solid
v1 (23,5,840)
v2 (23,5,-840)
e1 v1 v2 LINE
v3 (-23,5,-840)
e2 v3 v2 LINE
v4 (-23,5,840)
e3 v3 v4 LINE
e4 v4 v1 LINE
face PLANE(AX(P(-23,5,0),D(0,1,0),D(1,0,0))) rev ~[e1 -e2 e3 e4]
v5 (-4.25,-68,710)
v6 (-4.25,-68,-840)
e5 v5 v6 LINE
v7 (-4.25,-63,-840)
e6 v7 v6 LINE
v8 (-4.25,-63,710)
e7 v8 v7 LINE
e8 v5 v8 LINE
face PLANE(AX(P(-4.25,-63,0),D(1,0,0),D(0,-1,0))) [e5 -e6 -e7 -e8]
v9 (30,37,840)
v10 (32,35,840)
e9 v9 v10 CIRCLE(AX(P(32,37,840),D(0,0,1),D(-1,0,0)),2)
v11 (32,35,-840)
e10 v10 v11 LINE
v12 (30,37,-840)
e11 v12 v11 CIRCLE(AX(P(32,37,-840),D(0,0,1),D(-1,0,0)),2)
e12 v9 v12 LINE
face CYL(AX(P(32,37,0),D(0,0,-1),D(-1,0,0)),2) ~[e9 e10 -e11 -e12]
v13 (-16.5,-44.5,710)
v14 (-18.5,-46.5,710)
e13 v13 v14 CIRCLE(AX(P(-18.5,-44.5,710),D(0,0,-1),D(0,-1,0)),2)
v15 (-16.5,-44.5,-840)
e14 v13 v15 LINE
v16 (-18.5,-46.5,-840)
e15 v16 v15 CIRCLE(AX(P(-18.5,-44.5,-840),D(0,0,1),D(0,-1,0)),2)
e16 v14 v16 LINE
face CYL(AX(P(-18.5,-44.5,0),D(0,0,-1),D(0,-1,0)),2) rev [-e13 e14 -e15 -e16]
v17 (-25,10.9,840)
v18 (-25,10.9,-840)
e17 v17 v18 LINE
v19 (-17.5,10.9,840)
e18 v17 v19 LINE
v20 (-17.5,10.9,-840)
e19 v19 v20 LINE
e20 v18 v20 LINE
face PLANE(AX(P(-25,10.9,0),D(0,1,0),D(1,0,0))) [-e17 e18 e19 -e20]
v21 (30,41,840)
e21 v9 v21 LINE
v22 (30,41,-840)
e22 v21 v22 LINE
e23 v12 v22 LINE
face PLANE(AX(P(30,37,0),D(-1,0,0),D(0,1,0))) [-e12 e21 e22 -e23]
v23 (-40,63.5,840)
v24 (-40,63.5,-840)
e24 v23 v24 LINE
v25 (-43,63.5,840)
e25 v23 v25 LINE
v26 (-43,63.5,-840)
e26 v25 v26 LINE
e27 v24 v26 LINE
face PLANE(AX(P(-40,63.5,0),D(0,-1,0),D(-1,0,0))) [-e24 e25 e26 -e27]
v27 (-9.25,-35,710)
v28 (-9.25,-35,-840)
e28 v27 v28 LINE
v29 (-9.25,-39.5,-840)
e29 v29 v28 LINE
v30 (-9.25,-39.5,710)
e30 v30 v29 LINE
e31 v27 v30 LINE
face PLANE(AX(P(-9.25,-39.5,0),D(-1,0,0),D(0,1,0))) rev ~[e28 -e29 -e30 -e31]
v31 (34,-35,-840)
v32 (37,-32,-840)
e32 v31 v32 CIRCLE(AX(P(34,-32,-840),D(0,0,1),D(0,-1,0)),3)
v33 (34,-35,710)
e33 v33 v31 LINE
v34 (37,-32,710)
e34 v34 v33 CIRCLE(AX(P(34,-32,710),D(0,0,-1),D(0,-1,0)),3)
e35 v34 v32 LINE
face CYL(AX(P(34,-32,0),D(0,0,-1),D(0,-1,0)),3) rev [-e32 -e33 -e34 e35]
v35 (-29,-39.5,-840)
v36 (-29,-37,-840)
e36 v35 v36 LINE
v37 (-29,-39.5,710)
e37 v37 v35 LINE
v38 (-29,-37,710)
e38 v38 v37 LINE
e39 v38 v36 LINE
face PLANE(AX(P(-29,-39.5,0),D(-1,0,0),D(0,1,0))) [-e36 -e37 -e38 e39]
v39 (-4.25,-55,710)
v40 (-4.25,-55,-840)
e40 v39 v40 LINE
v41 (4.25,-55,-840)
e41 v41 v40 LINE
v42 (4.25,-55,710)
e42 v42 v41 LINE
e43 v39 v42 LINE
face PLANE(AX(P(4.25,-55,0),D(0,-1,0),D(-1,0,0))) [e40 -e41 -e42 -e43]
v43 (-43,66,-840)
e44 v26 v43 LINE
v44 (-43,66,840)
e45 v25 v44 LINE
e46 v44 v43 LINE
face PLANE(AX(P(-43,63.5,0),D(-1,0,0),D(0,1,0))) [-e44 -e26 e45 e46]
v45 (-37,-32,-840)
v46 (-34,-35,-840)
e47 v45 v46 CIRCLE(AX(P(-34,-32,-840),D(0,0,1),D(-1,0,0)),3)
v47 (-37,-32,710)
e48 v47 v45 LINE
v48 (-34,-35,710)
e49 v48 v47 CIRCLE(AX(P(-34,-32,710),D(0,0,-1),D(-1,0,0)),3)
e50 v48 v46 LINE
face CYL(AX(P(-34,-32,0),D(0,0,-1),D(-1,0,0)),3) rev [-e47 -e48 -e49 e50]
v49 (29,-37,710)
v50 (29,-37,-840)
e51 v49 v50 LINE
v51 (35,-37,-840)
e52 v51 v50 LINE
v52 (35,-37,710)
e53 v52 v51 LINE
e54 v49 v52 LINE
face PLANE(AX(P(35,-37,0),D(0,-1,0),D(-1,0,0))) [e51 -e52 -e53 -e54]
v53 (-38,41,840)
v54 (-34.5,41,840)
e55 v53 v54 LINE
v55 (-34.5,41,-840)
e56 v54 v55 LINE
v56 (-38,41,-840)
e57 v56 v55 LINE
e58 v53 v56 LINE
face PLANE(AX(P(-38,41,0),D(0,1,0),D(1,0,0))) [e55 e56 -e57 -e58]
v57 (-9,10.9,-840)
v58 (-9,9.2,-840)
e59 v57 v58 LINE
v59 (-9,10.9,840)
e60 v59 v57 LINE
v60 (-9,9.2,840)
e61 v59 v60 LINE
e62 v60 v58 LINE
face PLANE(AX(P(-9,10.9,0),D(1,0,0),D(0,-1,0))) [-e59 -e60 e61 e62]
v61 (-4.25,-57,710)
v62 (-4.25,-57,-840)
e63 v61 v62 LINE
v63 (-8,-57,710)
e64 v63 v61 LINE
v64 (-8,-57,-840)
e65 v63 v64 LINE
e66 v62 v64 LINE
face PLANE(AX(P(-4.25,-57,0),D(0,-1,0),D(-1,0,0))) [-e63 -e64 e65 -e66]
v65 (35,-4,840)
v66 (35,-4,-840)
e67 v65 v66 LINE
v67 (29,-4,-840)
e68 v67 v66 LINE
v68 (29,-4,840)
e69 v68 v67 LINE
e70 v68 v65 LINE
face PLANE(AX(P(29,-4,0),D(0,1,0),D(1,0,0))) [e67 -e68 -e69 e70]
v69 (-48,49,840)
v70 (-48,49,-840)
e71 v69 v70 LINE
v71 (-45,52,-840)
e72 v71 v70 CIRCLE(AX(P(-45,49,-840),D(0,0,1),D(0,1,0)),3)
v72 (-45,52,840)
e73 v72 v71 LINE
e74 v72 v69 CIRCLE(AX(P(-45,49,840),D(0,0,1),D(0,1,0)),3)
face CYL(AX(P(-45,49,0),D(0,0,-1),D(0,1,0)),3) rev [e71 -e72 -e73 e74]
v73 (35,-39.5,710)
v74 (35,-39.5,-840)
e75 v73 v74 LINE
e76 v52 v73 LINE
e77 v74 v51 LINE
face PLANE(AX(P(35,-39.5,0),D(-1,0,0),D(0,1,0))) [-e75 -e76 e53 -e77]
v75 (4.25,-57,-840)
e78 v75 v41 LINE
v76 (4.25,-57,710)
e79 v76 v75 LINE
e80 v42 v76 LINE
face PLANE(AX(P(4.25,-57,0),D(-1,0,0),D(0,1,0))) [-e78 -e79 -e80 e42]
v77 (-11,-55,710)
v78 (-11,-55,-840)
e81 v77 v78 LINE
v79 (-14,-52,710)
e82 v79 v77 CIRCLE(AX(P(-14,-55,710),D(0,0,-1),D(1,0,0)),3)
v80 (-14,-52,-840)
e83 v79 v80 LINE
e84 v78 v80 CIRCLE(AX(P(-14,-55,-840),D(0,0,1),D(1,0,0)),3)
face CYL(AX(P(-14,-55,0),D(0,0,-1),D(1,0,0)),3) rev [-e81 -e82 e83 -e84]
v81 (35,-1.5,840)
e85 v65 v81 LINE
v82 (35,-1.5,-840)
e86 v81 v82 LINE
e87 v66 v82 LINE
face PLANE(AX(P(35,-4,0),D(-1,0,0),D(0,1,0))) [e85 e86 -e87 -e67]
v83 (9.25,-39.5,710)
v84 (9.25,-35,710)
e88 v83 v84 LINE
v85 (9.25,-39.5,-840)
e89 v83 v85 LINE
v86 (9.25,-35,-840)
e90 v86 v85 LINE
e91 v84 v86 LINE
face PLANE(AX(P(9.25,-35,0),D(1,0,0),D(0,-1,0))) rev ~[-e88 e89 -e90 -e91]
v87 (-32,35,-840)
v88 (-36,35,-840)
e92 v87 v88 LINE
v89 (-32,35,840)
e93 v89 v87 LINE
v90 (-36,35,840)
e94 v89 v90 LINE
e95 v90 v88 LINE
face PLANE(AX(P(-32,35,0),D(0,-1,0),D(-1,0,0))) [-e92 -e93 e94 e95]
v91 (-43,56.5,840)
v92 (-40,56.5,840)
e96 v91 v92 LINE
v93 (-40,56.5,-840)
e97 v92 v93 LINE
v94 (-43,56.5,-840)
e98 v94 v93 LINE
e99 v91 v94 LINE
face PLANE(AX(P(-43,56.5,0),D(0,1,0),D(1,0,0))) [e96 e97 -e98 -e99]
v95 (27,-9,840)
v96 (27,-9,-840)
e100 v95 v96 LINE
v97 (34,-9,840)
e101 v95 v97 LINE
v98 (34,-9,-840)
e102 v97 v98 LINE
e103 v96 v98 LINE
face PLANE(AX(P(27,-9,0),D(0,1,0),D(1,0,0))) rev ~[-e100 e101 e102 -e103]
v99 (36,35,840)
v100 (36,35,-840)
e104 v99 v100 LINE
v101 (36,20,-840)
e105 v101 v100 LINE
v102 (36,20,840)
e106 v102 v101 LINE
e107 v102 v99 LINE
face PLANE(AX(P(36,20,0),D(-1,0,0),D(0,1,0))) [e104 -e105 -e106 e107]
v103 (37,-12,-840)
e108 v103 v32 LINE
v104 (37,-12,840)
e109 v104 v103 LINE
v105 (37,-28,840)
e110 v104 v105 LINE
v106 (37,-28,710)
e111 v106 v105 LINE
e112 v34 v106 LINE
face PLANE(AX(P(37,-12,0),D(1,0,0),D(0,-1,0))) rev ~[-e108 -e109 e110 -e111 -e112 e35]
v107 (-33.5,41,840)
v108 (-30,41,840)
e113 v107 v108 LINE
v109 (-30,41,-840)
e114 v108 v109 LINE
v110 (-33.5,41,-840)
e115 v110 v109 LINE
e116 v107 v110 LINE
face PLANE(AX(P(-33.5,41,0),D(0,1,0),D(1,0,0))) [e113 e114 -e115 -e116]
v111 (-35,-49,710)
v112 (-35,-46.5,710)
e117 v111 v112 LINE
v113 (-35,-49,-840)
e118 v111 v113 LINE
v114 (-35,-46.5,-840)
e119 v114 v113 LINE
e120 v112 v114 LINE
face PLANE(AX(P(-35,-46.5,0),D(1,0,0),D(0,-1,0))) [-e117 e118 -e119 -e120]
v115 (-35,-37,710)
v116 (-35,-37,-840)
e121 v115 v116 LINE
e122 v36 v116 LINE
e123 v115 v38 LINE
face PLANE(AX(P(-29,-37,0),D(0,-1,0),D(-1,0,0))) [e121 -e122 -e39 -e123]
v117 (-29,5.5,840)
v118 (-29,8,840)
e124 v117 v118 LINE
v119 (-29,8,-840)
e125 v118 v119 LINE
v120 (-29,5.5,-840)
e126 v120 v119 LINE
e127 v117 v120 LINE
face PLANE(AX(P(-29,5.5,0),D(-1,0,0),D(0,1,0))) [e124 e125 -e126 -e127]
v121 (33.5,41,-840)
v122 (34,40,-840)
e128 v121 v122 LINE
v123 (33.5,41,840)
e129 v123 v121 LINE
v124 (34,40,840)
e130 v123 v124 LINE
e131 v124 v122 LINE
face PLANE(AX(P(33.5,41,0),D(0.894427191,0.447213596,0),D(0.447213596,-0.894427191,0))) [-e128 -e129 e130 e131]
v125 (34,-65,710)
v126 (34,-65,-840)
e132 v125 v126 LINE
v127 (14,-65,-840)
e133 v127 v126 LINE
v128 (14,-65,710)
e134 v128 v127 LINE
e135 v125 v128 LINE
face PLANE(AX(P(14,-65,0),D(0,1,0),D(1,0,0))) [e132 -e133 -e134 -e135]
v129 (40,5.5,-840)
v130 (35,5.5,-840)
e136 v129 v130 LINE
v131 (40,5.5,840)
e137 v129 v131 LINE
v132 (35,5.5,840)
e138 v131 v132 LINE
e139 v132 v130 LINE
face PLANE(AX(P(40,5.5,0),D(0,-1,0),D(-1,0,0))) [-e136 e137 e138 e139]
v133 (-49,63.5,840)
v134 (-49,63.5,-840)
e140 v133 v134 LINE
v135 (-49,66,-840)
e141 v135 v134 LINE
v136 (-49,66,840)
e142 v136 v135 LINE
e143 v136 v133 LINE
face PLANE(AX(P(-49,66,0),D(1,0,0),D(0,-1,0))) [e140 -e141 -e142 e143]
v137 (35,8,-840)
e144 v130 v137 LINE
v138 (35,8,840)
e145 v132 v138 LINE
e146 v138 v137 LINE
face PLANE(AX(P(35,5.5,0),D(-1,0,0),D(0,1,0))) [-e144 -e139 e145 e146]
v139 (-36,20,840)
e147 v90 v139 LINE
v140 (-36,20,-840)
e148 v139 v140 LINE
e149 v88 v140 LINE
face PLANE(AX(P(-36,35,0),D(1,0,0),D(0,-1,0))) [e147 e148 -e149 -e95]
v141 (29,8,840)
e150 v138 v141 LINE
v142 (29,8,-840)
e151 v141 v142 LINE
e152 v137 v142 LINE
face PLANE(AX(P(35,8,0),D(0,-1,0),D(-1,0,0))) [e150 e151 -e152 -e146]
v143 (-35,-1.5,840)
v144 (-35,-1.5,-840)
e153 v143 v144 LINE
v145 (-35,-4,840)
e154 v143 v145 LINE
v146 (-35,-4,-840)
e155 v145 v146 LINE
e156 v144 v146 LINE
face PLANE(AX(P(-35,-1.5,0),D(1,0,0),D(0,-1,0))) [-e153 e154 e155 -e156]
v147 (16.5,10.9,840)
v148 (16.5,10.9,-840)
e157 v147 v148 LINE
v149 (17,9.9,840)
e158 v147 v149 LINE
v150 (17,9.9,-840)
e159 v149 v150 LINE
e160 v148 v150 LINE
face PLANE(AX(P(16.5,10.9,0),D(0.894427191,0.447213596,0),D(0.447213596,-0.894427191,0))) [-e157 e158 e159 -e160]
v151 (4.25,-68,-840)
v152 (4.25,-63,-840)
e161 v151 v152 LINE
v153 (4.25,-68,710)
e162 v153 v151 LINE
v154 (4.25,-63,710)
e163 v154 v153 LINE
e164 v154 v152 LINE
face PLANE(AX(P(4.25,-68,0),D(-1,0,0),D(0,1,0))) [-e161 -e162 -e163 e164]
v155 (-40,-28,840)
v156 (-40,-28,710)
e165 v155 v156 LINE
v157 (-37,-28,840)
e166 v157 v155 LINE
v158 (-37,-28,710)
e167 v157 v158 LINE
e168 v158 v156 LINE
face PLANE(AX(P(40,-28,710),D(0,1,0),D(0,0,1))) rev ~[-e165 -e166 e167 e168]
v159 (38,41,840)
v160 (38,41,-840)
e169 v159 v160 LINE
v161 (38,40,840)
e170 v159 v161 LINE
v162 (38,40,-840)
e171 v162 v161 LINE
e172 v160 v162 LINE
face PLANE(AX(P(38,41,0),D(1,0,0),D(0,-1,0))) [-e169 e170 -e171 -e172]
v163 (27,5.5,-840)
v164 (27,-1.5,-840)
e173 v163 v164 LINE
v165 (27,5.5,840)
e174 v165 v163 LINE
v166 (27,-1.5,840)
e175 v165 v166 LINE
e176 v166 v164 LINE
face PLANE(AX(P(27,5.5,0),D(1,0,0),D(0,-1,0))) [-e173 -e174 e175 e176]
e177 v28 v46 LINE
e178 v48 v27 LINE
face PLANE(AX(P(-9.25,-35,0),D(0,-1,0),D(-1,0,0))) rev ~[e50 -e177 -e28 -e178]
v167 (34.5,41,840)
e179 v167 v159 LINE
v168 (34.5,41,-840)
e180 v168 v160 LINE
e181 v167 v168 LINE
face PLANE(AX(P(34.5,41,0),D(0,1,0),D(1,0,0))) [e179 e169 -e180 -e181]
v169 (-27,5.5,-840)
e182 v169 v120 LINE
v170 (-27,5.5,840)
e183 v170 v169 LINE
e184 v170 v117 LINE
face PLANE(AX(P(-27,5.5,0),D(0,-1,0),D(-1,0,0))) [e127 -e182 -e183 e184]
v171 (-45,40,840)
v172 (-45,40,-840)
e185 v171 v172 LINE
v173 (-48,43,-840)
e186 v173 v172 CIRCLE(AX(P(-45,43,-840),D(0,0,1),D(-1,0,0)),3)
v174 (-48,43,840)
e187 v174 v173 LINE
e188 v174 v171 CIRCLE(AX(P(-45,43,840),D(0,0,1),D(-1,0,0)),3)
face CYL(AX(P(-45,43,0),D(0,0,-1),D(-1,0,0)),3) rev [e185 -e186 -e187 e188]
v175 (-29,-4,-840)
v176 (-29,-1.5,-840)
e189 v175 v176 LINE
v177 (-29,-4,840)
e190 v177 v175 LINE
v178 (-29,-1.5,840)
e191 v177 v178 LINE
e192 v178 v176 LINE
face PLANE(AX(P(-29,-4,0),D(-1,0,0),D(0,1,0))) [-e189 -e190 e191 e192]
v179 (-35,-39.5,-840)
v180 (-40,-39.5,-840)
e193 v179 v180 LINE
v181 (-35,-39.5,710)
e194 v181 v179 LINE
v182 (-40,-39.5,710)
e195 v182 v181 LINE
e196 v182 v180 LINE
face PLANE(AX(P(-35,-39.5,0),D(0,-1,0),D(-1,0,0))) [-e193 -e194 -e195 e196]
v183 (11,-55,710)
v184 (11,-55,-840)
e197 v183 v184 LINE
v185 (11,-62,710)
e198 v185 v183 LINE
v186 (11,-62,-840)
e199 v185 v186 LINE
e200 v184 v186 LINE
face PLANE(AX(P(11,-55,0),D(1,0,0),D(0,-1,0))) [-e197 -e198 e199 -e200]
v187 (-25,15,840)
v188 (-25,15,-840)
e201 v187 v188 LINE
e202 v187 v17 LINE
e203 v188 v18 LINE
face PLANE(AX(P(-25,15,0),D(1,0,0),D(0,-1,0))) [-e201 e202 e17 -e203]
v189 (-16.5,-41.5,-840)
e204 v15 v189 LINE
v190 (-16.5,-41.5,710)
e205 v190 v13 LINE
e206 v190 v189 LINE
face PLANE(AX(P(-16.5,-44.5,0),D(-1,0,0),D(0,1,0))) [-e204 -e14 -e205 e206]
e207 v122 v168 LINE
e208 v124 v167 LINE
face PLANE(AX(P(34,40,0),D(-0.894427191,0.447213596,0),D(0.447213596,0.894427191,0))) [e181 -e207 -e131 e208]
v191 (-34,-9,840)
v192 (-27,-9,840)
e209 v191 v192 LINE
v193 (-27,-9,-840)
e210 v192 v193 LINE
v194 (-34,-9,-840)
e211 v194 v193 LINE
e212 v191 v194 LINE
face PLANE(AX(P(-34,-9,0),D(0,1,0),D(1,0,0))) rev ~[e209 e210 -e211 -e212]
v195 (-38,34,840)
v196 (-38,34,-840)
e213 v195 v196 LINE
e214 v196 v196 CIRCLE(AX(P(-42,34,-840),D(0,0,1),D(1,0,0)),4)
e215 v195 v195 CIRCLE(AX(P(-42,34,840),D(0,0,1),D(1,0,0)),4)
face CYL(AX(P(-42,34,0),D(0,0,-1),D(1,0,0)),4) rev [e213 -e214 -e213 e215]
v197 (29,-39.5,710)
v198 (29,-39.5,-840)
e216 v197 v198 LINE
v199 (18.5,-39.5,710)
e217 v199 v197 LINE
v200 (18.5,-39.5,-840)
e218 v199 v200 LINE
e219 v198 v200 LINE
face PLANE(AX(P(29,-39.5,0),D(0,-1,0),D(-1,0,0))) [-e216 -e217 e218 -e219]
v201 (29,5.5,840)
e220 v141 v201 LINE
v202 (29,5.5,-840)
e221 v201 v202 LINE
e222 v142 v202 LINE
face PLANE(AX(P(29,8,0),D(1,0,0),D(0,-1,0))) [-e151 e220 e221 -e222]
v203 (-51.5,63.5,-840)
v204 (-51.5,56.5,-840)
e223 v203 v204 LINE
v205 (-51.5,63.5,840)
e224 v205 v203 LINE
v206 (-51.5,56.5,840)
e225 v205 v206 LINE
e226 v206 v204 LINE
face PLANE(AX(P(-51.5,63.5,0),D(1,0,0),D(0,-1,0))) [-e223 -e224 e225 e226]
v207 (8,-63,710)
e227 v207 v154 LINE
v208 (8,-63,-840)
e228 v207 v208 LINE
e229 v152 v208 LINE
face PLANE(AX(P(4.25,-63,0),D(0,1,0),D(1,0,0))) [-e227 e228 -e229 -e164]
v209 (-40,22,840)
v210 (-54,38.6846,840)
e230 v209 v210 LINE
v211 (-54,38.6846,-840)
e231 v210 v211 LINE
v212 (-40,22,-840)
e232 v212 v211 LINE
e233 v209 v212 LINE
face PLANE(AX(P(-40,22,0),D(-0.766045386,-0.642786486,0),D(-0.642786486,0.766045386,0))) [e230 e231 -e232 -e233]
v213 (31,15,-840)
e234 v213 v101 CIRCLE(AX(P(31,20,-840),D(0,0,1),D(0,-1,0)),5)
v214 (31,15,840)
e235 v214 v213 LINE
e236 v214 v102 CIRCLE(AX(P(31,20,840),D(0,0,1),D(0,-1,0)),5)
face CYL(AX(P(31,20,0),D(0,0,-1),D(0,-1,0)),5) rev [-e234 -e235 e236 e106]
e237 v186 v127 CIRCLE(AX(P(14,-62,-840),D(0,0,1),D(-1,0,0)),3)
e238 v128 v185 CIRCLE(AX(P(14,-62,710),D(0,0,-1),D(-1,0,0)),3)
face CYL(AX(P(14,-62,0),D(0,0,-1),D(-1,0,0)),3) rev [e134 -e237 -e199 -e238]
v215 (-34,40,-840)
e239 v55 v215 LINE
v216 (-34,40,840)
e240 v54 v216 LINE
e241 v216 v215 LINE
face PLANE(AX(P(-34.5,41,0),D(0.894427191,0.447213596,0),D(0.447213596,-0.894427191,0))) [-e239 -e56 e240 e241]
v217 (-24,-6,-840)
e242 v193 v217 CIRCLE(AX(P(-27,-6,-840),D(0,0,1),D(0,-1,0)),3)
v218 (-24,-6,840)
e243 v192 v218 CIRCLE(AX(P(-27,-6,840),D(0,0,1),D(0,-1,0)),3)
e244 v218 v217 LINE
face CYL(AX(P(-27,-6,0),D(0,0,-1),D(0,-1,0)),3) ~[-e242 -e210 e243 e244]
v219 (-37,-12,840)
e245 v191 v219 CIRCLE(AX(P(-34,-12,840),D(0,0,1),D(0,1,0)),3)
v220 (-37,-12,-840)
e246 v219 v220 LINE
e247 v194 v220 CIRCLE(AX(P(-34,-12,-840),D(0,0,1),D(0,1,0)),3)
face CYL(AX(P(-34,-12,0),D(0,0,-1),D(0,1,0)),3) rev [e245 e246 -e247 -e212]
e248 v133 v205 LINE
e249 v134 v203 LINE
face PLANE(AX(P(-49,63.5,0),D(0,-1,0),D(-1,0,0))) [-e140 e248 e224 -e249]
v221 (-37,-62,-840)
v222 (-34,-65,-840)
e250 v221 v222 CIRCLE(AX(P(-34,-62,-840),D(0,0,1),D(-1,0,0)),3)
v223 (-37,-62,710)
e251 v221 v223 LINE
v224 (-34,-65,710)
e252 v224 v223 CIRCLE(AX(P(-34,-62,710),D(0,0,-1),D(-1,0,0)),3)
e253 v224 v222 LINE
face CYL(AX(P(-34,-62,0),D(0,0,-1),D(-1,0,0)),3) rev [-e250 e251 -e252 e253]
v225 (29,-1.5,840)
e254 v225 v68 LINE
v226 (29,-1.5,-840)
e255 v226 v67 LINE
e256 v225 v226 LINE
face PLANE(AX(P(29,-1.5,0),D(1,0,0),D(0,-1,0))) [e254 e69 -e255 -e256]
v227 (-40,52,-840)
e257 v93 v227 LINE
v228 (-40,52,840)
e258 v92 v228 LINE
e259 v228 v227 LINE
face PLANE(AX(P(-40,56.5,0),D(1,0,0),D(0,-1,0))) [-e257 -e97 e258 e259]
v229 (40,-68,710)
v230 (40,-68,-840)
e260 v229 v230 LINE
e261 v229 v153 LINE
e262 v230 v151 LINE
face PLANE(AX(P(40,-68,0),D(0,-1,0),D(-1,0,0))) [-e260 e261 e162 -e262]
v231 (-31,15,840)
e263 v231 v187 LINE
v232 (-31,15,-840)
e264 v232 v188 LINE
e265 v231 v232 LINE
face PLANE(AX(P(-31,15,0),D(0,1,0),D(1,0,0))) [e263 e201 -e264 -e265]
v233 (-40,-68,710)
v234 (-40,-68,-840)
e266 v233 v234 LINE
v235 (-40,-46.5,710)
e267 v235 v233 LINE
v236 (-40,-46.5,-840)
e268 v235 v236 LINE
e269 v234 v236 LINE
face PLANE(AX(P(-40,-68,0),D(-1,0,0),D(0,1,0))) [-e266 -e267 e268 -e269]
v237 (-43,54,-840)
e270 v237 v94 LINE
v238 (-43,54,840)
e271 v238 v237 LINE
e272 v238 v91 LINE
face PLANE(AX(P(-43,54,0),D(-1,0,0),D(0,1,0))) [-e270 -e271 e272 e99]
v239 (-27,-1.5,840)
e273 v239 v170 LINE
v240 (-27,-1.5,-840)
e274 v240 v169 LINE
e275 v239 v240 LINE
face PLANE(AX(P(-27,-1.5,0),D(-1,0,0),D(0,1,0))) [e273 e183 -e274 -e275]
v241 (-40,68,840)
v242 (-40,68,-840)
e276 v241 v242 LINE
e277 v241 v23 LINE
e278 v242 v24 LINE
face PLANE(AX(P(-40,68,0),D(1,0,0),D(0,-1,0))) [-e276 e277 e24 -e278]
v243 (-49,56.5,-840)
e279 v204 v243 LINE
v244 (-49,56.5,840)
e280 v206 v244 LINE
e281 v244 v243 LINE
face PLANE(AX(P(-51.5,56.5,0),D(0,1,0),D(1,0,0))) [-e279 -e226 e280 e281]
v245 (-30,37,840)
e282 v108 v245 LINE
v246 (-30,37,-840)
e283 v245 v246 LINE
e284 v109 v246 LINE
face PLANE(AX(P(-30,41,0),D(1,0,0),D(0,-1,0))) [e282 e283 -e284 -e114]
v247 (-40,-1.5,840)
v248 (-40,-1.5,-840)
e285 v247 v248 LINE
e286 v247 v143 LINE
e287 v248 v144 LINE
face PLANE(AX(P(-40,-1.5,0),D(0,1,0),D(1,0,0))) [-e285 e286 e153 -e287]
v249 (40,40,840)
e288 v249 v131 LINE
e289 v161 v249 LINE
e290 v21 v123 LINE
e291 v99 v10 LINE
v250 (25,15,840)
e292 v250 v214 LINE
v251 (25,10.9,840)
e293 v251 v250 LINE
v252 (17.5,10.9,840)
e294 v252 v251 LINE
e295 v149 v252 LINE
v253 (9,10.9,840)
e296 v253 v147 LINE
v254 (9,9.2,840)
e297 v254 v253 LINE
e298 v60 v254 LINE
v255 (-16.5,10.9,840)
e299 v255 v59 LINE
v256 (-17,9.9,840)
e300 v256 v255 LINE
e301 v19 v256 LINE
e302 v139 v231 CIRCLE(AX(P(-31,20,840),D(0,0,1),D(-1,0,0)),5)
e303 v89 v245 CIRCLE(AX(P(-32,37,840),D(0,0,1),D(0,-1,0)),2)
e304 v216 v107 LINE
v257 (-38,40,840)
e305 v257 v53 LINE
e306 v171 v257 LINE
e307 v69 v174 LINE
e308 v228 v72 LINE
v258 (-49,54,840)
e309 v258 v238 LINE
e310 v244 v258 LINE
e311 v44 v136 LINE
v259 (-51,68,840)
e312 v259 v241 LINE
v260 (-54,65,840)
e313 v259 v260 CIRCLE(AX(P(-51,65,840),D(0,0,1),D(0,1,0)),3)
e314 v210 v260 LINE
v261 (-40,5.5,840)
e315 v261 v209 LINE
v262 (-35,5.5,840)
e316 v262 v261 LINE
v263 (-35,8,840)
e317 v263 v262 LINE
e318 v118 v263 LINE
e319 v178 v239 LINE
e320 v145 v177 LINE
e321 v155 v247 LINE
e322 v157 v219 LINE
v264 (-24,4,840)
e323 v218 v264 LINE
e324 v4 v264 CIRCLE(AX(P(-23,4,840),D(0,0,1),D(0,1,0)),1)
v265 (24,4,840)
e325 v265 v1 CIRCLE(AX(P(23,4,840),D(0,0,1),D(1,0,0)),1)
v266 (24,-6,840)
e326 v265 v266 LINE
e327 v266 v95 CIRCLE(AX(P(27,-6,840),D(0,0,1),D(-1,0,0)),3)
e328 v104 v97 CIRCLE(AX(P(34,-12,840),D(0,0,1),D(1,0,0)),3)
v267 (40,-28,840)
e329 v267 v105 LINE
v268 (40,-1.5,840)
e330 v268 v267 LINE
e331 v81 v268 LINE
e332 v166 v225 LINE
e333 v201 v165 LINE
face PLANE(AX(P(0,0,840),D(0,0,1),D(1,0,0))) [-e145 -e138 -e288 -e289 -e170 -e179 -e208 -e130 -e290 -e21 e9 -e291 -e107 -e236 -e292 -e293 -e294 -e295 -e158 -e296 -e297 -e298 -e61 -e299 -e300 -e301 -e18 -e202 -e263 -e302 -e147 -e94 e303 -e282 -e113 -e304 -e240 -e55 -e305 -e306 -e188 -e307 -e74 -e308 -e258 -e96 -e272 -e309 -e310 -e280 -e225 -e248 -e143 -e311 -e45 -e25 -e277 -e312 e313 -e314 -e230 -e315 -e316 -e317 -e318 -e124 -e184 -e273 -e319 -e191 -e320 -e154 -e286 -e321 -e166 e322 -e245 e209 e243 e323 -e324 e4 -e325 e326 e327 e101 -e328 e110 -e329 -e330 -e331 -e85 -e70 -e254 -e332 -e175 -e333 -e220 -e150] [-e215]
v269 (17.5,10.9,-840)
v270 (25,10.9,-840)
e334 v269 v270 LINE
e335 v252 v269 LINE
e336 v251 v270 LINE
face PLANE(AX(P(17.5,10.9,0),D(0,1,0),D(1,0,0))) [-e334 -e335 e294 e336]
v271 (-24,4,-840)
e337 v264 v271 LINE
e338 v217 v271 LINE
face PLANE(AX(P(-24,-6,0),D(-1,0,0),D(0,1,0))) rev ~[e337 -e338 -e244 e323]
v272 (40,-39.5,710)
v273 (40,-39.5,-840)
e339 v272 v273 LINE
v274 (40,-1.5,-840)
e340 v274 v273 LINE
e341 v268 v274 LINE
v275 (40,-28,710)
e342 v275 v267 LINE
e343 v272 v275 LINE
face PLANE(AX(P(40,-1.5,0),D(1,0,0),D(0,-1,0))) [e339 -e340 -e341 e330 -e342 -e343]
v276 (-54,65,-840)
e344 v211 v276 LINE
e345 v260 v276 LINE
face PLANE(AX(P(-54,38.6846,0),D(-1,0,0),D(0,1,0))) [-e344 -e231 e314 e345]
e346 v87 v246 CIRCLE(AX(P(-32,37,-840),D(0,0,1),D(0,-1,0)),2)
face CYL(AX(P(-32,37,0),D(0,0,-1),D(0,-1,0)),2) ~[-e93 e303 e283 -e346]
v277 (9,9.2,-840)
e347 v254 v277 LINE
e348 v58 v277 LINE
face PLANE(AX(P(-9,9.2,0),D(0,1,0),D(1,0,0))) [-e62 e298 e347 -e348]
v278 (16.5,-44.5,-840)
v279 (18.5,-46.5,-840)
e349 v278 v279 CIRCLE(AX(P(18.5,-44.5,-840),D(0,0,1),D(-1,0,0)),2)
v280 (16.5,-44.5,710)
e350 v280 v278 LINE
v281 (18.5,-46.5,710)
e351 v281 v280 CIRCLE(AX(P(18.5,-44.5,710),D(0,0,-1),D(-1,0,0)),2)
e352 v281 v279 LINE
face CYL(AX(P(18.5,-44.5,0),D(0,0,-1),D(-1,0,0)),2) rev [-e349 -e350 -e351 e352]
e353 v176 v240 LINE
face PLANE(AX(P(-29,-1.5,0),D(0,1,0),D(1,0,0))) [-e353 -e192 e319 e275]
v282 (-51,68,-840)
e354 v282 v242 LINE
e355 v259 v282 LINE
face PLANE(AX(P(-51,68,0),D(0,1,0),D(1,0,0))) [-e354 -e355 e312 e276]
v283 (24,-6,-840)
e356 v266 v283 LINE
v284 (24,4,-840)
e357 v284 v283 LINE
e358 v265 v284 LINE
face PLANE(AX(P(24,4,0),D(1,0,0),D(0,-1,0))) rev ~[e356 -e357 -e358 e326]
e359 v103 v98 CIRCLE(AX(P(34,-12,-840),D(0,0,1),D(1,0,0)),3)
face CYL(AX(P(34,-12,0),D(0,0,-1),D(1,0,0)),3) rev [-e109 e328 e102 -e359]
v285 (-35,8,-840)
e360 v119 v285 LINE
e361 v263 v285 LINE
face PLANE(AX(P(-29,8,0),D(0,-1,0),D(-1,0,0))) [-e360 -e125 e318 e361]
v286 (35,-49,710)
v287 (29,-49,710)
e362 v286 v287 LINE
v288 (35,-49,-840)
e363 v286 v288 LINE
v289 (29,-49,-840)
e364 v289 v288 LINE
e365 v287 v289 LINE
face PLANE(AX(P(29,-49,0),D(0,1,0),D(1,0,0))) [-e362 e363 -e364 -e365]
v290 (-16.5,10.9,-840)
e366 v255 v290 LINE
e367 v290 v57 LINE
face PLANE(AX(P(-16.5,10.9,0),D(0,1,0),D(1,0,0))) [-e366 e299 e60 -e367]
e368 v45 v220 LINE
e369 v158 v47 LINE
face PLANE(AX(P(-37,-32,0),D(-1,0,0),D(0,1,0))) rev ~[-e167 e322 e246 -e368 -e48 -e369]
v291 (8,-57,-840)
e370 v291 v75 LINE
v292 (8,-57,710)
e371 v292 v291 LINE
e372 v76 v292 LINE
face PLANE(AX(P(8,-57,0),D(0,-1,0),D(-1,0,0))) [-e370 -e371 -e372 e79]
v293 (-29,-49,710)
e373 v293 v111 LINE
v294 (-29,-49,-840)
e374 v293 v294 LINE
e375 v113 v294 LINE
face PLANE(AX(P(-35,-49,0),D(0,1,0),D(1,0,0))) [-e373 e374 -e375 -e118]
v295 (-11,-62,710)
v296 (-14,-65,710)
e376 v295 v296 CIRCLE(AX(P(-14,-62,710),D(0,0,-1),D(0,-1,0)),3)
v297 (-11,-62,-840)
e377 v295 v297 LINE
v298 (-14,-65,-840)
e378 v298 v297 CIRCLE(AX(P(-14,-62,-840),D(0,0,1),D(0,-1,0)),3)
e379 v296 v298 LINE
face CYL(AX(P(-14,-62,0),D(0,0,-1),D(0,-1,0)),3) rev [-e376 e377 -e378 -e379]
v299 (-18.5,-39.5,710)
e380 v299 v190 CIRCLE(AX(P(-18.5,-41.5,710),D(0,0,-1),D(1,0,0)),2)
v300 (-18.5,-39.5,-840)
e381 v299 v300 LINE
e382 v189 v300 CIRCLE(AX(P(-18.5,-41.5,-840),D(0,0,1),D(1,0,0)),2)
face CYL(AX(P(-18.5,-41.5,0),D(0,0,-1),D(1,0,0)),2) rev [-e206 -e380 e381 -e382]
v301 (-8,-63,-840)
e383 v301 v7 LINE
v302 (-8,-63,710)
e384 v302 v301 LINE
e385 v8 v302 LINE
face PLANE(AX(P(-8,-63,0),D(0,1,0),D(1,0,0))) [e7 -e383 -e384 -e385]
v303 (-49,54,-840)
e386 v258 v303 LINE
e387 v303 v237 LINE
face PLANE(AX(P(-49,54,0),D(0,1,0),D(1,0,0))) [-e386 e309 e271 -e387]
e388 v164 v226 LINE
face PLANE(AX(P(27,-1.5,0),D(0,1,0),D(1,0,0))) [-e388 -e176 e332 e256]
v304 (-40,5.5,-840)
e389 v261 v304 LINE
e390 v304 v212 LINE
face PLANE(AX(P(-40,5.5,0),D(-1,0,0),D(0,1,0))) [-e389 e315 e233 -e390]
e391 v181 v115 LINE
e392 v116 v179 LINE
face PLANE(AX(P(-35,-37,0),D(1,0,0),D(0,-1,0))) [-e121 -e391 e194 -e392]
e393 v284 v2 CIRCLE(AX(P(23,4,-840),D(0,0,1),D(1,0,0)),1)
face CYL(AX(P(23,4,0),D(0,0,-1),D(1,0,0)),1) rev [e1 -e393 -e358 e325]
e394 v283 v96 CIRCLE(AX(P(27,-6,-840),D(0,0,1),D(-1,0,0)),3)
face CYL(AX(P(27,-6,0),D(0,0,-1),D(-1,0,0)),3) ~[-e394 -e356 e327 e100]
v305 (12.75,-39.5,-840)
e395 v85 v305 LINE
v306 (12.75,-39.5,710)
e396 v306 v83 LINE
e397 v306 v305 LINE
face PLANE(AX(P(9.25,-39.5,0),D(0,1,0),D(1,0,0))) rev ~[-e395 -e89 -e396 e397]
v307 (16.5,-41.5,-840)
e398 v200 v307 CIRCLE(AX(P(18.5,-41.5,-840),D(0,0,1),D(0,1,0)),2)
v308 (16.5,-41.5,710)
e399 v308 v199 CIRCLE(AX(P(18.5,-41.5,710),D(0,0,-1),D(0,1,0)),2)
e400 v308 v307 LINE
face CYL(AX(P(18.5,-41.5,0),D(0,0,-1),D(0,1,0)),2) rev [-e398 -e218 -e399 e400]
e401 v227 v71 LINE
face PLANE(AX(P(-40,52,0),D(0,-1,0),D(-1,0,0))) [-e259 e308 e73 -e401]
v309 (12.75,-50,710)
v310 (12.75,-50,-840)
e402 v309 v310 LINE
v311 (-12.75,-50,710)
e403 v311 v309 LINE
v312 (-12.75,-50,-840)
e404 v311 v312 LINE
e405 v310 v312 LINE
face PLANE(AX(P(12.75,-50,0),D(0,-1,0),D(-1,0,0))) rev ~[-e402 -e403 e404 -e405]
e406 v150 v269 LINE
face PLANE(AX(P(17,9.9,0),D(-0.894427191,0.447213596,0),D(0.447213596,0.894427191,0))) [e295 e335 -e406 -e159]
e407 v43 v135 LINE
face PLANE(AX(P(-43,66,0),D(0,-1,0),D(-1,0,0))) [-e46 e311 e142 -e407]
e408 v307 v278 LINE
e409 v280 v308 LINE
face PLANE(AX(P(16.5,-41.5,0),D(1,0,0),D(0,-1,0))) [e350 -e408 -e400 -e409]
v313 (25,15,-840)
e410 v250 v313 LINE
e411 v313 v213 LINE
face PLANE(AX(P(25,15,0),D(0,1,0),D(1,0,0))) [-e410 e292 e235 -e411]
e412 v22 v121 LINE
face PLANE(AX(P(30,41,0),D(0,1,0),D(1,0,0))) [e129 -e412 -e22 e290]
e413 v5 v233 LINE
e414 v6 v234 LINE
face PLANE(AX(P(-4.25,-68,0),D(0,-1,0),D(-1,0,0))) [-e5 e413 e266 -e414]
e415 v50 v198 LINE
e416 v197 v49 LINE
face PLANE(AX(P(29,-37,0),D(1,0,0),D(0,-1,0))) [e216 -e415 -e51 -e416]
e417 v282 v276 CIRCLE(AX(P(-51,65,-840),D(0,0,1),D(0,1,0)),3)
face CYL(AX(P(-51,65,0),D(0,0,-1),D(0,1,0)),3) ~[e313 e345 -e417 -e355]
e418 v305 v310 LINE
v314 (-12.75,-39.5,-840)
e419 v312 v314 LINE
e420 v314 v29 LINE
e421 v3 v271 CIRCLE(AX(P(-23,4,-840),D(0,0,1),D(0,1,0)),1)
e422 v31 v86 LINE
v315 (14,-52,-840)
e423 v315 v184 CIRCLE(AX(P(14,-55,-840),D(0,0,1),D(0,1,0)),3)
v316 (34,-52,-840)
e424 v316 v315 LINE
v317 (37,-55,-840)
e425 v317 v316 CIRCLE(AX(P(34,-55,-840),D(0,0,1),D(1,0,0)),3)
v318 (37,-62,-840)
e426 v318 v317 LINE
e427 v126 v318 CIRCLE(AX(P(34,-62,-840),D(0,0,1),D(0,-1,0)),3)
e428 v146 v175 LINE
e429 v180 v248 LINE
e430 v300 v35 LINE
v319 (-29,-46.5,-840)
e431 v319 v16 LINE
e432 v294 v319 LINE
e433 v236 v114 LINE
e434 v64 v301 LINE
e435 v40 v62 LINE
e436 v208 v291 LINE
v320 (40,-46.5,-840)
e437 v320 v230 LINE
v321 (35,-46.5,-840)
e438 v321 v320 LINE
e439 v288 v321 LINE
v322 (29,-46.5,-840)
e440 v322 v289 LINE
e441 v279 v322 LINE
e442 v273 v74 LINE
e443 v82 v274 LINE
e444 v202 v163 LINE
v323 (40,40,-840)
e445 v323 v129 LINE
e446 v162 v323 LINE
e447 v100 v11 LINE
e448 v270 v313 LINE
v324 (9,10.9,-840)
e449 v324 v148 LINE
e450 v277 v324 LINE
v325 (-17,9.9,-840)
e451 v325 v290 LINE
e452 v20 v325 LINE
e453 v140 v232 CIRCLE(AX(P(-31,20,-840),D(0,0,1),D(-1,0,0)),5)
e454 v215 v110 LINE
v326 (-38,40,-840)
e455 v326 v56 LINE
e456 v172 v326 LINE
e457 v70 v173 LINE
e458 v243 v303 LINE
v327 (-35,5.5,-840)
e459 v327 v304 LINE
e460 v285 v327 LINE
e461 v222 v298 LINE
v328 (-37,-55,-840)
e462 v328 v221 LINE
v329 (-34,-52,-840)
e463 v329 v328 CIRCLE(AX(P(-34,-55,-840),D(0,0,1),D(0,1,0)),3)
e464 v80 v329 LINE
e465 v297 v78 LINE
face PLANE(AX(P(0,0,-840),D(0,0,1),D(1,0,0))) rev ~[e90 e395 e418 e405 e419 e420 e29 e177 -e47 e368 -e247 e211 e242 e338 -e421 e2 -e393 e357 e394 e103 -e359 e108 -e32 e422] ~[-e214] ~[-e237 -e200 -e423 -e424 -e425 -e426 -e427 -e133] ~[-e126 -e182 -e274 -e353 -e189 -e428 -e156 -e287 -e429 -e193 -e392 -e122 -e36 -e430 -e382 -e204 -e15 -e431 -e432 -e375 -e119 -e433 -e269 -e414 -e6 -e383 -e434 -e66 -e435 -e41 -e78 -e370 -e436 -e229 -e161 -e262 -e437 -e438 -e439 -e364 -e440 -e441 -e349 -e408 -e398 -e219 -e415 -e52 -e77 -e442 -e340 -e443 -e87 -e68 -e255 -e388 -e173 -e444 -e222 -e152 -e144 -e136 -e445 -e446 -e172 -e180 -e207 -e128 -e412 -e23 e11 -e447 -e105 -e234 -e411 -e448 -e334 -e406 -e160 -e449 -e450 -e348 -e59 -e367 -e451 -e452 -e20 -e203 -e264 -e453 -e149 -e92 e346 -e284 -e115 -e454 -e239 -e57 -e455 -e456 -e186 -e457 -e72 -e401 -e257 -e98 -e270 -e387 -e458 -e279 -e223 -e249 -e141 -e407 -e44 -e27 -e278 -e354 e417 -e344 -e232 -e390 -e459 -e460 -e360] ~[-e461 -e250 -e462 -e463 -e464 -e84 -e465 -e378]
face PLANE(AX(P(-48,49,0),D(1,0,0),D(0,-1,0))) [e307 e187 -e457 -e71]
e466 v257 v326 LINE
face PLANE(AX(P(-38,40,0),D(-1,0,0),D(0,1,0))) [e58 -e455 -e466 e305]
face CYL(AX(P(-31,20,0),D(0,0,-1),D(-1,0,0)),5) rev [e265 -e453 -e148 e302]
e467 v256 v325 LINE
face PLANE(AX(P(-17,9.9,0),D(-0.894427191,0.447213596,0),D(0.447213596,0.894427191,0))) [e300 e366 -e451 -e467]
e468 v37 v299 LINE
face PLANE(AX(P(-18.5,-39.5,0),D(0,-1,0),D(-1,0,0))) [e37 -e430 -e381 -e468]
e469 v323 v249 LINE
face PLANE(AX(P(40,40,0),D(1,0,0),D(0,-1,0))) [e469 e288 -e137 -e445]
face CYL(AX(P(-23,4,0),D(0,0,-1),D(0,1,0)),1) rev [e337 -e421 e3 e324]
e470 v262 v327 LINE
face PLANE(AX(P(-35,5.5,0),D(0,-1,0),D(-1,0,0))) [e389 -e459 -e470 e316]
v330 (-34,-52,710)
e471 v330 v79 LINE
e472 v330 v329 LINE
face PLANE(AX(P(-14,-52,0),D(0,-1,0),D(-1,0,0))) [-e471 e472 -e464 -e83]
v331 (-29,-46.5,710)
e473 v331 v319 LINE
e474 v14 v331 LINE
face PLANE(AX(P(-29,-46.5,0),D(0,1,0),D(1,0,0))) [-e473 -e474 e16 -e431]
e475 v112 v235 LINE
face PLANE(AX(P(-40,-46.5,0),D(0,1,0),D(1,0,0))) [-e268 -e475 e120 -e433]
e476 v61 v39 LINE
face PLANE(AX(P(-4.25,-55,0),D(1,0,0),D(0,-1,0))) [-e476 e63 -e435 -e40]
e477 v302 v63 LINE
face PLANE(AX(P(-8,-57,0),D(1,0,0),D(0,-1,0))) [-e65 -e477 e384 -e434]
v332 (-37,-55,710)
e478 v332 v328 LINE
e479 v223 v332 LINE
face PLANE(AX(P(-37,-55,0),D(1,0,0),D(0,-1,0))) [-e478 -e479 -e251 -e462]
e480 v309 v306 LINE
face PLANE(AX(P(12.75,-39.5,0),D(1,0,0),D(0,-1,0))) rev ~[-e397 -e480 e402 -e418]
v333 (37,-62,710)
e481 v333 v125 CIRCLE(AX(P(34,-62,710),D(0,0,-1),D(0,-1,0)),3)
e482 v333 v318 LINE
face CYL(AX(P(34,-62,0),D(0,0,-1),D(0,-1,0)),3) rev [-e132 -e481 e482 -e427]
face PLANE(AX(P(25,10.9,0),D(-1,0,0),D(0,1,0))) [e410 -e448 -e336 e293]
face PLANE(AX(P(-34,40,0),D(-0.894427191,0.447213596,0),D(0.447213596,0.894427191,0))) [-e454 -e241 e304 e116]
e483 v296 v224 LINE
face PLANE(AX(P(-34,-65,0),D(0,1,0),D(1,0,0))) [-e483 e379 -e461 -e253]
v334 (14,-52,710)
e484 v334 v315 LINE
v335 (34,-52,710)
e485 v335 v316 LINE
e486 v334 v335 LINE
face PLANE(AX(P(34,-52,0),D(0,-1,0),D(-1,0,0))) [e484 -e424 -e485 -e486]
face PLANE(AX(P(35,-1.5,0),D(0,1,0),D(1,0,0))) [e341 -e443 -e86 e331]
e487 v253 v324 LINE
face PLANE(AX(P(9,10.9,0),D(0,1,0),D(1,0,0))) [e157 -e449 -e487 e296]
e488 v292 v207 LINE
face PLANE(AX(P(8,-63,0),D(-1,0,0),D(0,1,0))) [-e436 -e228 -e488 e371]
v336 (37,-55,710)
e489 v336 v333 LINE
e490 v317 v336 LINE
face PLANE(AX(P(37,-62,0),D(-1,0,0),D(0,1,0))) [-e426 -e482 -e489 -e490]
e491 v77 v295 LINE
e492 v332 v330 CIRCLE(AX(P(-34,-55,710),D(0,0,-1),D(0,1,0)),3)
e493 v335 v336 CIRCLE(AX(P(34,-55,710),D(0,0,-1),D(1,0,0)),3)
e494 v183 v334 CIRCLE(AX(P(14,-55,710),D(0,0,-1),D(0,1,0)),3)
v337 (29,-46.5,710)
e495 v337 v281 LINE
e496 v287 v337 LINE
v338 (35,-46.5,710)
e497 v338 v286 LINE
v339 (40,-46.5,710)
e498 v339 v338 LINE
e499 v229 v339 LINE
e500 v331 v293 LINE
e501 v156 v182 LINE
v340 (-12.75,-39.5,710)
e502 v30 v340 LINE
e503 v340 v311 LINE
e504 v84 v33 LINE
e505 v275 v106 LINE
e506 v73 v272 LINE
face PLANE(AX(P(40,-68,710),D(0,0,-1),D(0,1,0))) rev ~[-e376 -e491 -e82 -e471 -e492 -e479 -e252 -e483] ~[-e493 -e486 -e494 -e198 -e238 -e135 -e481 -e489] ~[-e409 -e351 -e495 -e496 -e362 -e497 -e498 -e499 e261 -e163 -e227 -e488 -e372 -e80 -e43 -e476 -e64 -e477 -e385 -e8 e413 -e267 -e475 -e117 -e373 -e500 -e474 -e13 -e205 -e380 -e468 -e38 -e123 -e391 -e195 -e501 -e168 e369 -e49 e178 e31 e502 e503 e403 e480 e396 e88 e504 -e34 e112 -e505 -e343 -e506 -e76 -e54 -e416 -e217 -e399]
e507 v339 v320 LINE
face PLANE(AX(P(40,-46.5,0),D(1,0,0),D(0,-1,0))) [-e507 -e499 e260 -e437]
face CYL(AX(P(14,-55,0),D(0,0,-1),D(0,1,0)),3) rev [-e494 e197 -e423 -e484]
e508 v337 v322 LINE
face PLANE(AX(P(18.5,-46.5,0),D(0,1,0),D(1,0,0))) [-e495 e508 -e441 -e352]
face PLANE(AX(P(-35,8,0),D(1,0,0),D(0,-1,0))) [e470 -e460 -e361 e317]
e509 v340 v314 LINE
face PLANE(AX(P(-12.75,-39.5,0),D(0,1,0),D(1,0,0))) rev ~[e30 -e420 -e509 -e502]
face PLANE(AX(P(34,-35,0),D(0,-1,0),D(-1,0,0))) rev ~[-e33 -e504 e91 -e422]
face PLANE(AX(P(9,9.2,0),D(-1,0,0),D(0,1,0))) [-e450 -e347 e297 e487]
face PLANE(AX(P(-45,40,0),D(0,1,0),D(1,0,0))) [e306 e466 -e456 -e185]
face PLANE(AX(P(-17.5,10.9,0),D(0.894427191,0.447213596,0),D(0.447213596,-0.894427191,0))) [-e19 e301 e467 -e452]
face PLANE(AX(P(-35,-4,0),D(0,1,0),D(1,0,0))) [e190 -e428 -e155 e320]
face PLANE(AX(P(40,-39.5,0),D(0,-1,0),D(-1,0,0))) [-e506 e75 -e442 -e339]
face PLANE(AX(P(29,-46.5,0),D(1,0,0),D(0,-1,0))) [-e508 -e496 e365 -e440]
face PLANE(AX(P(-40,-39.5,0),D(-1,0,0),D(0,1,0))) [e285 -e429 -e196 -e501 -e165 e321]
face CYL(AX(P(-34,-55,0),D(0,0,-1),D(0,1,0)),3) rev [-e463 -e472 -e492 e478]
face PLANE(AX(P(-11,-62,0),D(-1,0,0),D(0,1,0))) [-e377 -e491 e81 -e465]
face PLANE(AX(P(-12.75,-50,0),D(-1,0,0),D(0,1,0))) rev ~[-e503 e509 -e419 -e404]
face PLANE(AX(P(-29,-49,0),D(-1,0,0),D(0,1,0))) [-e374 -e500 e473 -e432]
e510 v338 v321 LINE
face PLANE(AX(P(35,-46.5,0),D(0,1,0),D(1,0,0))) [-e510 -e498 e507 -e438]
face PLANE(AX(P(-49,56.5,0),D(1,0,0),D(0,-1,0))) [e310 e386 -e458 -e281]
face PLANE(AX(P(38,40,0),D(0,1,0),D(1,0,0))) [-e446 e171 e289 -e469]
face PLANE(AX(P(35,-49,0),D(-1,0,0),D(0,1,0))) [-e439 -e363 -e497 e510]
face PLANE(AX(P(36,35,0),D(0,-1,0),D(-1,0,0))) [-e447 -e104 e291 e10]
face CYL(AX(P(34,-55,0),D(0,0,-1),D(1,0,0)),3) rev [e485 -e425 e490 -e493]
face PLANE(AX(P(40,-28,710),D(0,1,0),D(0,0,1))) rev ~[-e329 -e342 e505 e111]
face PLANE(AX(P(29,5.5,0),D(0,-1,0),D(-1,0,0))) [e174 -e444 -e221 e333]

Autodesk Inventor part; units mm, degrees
ref_plane "YZ Plane" through (0, 0, 0) normal (1, 0, 0) x (0, 1, 0)
ref_plane "XZ Plane" through (0, 0, 0) normal (0, 1, 0) x (-1, 0, 0)
ref_plane "XY Plane" through (0, 0, 0) normal (0, 0, 1) x (1, 0, 0)
sketch "스케치9" plane through (0, 0, 0) normal (0, 0, 1) x (1, 0, 0)
  line L0 (40, 5.5) -> (35, 5.5)
  line L1 (35, 5.5) -> (35, 8)
  line L2 (35, 8) -> (29, 8)
  line L3 (29, 8) -> (29, 5.5)
  line L4 (29, 5.5) -> (27, 5.5)
  line L5 (27, 5.5) -> (27, -1.5)
  line L6 (29, -1.5) -> (29, -4)
  line L7 (29, -4) -> (35, -4)
  line L8 (35, -4) -> (35, -1.5)
  line L9 (35, -1.5) -> (40, -1.5)
  line L10 (40, -1.5) -> (40, -39.5)
  line L11 (40, -39.5) -> (35, -39.5)
  line L12 (35, -39.5) -> (35, -37)
  line L13 (35, -37) -> (29, -37)
  line L14 (29, -37) -> (29, -39.5)
  line L15 (29, -39.5) -> (18.5, -39.5)
  arc A0 (18.5, -39.5) -> (16.5, -41.5) centre (18.5, -41.5) ccw
  line L16 (16.5, -41.5) -> (16.5, -44.5)
  arc A1 (16.5, -44.5) -> (18.5, -46.5) centre (18.5, -44.5) ccw
  line L17 (18.5, -46.5) -> (29, -46.5)
  line L18 (29, -46.5) -> (29, -49)
  line L19 (29, -49) -> (35, -49)
  line L20 (35, -49) -> (35, -46.5)
  line L21 (35, -46.5) -> (40, -46.5)
  line L22 (40, -46.5) -> (40, -68)
  line L23 (40, -68) -> (4.25, -68)
  line L24 (4.25, -68) -> (4.25, -63)
  line L25 (4.25, -63) -> (8, -63)
  line L26 (8, -63) -> (8, -57)
  line L27 (8, -57) -> (4.25, -57)
  line L28 (4.25, -57) -> (4.25, -55)
  line L29 (4.25, -55) -> (-4.25, -55)
  line L30 (-4.25, -55) -> (-4.25, -57)
  line L31 (-4.25, -57) -> (-8, -57)
  line L32 (-8, -57) -> (-8, -63)
  line L33 (-8, -63) -> (-4.25, -63)
  line L34 (-4.25, -63) -> (-4.25, -68)
  line L35 (-4.25, -68) -> (-40, -68)
  line L36 (-40, -68) -> (-40, -46.5)
  line L37 (-40, -46.5) -> (-35, -46.5)
  line L38 (-35, -46.5) -> (-35, -49)
  line L39 (-35, -49) -> (-29, -49)
  line L40 (-29, -49) -> (-29, -46.5)
  line L41 (-29, -46.5) -> (-18.5, -46.5)
  arc A2 (-18.5, -46.5) -> (-16.5, -44.5) centre (-18.5, -44.5) ccw
  line L42 (-16.5, -44.5) -> (-16.5, -41.5)
  arc A3 (-16.5, -41.5) -> (-18.5, -39.5) centre (-18.5, -41.5) ccw
  line L43 (-18.5, -39.5) -> (-29, -39.5)
  line L44 (-29, -39.5) -> (-29, -37)
  line L45 (-29, -37) -> (-35, -37)
  line L46 (-35, -37) -> (-35, -39.5)
  line L47 (-35, -39.5) -> (-40, -39.5)
  line L48 (-40, -39.5) -> (-40, -1.5)
  line L49 (-40, -1.5) -> (-35, -1.5)
  line L50 (-35, -1.5) -> (-35, -4)
  line L51 (-35, -4) -> (-29, -4)
  line L52 (-29, -4) -> (-29, -1.5)
  line L53 (-29, -1.5) -> (-27, -1.5)
  line L54 (-27, -1.5) -> (-27, 5.5)
  line L55 (-27, 5.5) -> (-29, 5.5)
  line L56 (-29, 5.5) -> (-29, 8)
  line L57 (-29, 8) -> (-35, 8)
  line L58 (-35, 8) -> (-35, 5.5)
  line L59 (-35, 5.5) -> (-40, 5.5)
  line L60 (-40, 5.5) -> (-40, 22)
  line L61 (-40, 22) -> (-54, 38.6846)
  line L62 (-54, 38.6846) -> (-54, 65)
  arc A4 (-51, 68) -> (-54, 65) centre (-51, 65) ccw
  line L63 (-51, 68) -> (-40, 68)
  line L64 (-40, 68) -> (-40, 63.5)
  line L65 (-40, 63.5) -> (-43, 63.5)
  line L66 (-43, 63.5) -> (-43, 66)
  line L67 (-43, 66) -> (-49, 66)
  line L68 (-49, 66) -> (-49, 63.5)
  line L69 (27, -1.5) -> (29, -1.5)
  line L70 (-51.5, 63.5) -> (-51.5, 56.5)
  line L71 (-51.5, 56.5) -> (-49, 56.5)
  line L72 (-49, 56.5) -> (-49, 54)
  line L73 (-49, 54) -> (-43, 54)
  line L74 (-43, 54) -> (-43, 56.5)
  line L75 (-43, 56.5) -> (-40, 56.5)
  line L76 (-40, 56.5) -> (-40, 52)
  line L77 (-40, 52) -> (-45, 52)
  arc A5 (-45, 52) -> (-48, 49) centre (-45, 49) ccw
  line L78 (-48, 49) -> (-48, 43)
  arc A6 (-48, 43) -> (-45, 40) centre (-45, 43) ccw
  line L79 (-45, 40) -> (-38, 40)
  line L80 (-38, 40) -> (-38, 41)
  line L81 (-38, 41) -> (-34.5, 41)
  line L82 (-34.5, 41) -> (-34, 40)
  line L83 (-34, 40) -> (-33.5, 41)
  line L84 (-33.5, 41) -> (-30, 41)
  line L85 (-30, 41) -> (-30, 37)
  arc A7 (-32, 35) -> (-30, 37) centre (-32, 37) ccw
  line L86 (-32, 35) -> (-36, 35)
  line L87 (-36, 35) -> (-36, 20)
  arc A8 (-36, 20) -> (-31, 15) centre (-31, 20) ccw
  line L88 (-31, 15) -> (-25, 15)
  line L89 (-25, 15) -> (-25, 10.9)
  line L90 (-25, 10.9) -> (-17.5, 10.9)
  line L91 (-17.5, 10.9) -> (-17, 9.9)
  line L92 (-17, 9.9) -> (-16.5, 10.9)
  line L93 (-16.5, 10.9) -> (-9, 10.9)
  line L94 (-9, 10.9) -> (-9, 9.2)
  line L95 (-9, 9.2) -> (9, 9.2)
  line L96 (9, 9.2) -> (9, 10.9)
  line L97 (9, 10.9) -> (16.5, 10.9)
  line L98 (16.5, 10.9) -> (17, 9.9)
  line L99 (17, 9.9) -> (17.5, 10.9)
  line L100 (17.5, 10.9) -> (25, 10.9)
  line L101 (25, 10.9) -> (25, 15)
  line L102 (25, 15) -> (31, 15)
  arc A9 (31, 15) -> (36, 20) centre (31, 20) ccw
  line L103 (36, 20) -> (36, 35)
  line L104 (36, 35) -> (32, 35)
  arc A10 (30, 37) -> (32, 35) centre (32, 37) ccw
  line L105 (30, 37) -> (30, 41)
  line L106 (30, 41) -> (33.5, 41)
  line L107 (33.5, 41) -> (34, 40)
  line L108 (34, 40) -> (34.5, 41)
  line L109 (34.5, 41) -> (38, 41)
  line L110 (38, 41) -> (38, 40)
  line L111 (38, 40) -> (40, 40)
  line L112 (40, 40) -> (40, 5.5)
  line L113 (-23, 5) -> (23, 5)
  arc A11 (24, 4) -> (23, 5) centre (23, 4) ccw
  line L114 (24, 4) -> (24, -6)
  arc A12 (24, -6) -> (27, -9) centre (27, -6) ccw
  line L115 (27, -9) -> (34, -9)
  arc A13 (37, -12) -> (34, -9) centre (34, -12) ccw
  line L116 (37, -12) -> (37, -32)
  arc A14 (34, -35) -> (37, -32) centre (34, -32) ccw
  line L117 (34, -35) -> (9.25, -35)
  line L118 (9.25, -35) -> (9.25, -39.5)
  line L119 (9.25, -39.5) -> (12.75, -39.5)
  line L120 (12.75, -39.5) -> (12.75, -50)
  line L121 (12.75, -50) -> (-12.75, -50)
  line L122 (-12.75, -50) -> (-12.75, -39.5)
  line L123 (-12.75, -39.5) -> (-9.25, -39.5)
  line L124 (-9.25, -39.5) -> (-9.25, -35)
  line L125 (-9.25, -35) -> (-34, -35)
  arc A15 (-37, -32) -> (-34, -35) centre (-34, -32) ccw
  line L126 (-49, 63.5) -> (-51.5, 63.5)
  arc A16 (-34, -9) -> (-37, -12) centre (-34, -12) ccw
  line L127 (-34, -9) -> (-27, -9)
  arc A17 (-27, -9) -> (-24, -6) centre (-27, -6) ccw
  line L128 (-24, -6) -> (-24, 4)
  arc A18 (-23, 5) -> (-24, 4) centre (-23, 4) ccw
  arc A19 (37, -55) -> (34, -52) centre (34, -55) ccw
  line L129 (34, -52) -> (14, -52)
  arc A20 (14, -52) -> (11, -55) centre (14, -55) ccw
  line L130 (11, -55) -> (11, -62)
  arc A21 (11, -62) -> (14, -65) centre (14, -62) ccw
  line L131 (14, -65) -> (34, -65)
  arc A22 (34, -65) -> (37, -62) centre (34, -62) ccw
  line L132 (37, -62) -> (37, -55)
  arc A23 (-37, -62) -> (-34, -65) centre (-34, -62) ccw
  line L133 (-34, -65) -> (-14, -65)
  arc A24 (-14, -65) -> (-11, -62) centre (-14, -62) ccw
  line L134 (-11, -62) -> (-11, -55)
  arc A25 (-11, -55) -> (-14, -52) centre (-14, -55) ccw
  line L135 (-14, -52) -> (-34, -52)
  arc A26 (-34, -52) -> (-37, -55) centre (-34, -55) ccw
  line L136 (-37, -55) -> (-37, -62)
  circle A27 centre (-42, 34) radius 4
  line L137 (-37, -32) -> (-37, -12)
  point P0 (0, 0)
  point P1 (0, 0)
  point P2 (-41.1372, 2)
  point P3 (-40.2674, -43)
extrude "돌출4" add sketch "스케치9" along normal mid plane 1680
sketch "스케치10" plane through (40, -46.5, 840) normal (1, 0, 0) x (0, 0, -1)
  line L0 (1680, -21.5) -> (0, -21.5) construction
  line L1 (0, -21.5) -> (130, -21.5)
  line L2 (130, -21.5) -> (130, 18.5)
  line L3 (130, 18.5) -> (0, 18.5)
  line L4 (0, 18.5) -> (0, -21.5)
  line L5 (1680, -21.5) -> (1550, -21.5)
  line L6 (1550, -21.5) -> (1550, 18.5)
  line L7 (1550, 18.5) -> (1680, 18.5)
  line L8 (1680, 18.5) -> (1680, -21.5)
  point P0 (840, 46.5)
  dimension "d42" = 40
  dimension "d43" = 130
  dimension "d44" = 130
extrude "돌출5" cut sketch "스케치10" against normal through all contours L4 L3 L2 L1
equation "\"d40\" = L2"
equation "\"d44\" = d43"
equation "\"BendRadius\" = Thickness"
equation "\"BendReliefWidth\" = Thickness"
equation "\"BendReliefDepth\" = 0.5 * Thickness"
equation "\"CornerReliefSize\" = 4 * Thickness"
equation "\"MinimumRemnant\" = 2 * Thickness"
equation "\"TransitionRadius\" = BendRadius"
equation "\"JacobiRadiusSize\" = BendRadius"
equation "\"GapSize\" = Thickness"
equation "\"L2\" = 1680"
equation "\"Thickness\" = 3.048"
properties part number "TL20240701-10100CV-DY1054-1-1" material "SS400"
